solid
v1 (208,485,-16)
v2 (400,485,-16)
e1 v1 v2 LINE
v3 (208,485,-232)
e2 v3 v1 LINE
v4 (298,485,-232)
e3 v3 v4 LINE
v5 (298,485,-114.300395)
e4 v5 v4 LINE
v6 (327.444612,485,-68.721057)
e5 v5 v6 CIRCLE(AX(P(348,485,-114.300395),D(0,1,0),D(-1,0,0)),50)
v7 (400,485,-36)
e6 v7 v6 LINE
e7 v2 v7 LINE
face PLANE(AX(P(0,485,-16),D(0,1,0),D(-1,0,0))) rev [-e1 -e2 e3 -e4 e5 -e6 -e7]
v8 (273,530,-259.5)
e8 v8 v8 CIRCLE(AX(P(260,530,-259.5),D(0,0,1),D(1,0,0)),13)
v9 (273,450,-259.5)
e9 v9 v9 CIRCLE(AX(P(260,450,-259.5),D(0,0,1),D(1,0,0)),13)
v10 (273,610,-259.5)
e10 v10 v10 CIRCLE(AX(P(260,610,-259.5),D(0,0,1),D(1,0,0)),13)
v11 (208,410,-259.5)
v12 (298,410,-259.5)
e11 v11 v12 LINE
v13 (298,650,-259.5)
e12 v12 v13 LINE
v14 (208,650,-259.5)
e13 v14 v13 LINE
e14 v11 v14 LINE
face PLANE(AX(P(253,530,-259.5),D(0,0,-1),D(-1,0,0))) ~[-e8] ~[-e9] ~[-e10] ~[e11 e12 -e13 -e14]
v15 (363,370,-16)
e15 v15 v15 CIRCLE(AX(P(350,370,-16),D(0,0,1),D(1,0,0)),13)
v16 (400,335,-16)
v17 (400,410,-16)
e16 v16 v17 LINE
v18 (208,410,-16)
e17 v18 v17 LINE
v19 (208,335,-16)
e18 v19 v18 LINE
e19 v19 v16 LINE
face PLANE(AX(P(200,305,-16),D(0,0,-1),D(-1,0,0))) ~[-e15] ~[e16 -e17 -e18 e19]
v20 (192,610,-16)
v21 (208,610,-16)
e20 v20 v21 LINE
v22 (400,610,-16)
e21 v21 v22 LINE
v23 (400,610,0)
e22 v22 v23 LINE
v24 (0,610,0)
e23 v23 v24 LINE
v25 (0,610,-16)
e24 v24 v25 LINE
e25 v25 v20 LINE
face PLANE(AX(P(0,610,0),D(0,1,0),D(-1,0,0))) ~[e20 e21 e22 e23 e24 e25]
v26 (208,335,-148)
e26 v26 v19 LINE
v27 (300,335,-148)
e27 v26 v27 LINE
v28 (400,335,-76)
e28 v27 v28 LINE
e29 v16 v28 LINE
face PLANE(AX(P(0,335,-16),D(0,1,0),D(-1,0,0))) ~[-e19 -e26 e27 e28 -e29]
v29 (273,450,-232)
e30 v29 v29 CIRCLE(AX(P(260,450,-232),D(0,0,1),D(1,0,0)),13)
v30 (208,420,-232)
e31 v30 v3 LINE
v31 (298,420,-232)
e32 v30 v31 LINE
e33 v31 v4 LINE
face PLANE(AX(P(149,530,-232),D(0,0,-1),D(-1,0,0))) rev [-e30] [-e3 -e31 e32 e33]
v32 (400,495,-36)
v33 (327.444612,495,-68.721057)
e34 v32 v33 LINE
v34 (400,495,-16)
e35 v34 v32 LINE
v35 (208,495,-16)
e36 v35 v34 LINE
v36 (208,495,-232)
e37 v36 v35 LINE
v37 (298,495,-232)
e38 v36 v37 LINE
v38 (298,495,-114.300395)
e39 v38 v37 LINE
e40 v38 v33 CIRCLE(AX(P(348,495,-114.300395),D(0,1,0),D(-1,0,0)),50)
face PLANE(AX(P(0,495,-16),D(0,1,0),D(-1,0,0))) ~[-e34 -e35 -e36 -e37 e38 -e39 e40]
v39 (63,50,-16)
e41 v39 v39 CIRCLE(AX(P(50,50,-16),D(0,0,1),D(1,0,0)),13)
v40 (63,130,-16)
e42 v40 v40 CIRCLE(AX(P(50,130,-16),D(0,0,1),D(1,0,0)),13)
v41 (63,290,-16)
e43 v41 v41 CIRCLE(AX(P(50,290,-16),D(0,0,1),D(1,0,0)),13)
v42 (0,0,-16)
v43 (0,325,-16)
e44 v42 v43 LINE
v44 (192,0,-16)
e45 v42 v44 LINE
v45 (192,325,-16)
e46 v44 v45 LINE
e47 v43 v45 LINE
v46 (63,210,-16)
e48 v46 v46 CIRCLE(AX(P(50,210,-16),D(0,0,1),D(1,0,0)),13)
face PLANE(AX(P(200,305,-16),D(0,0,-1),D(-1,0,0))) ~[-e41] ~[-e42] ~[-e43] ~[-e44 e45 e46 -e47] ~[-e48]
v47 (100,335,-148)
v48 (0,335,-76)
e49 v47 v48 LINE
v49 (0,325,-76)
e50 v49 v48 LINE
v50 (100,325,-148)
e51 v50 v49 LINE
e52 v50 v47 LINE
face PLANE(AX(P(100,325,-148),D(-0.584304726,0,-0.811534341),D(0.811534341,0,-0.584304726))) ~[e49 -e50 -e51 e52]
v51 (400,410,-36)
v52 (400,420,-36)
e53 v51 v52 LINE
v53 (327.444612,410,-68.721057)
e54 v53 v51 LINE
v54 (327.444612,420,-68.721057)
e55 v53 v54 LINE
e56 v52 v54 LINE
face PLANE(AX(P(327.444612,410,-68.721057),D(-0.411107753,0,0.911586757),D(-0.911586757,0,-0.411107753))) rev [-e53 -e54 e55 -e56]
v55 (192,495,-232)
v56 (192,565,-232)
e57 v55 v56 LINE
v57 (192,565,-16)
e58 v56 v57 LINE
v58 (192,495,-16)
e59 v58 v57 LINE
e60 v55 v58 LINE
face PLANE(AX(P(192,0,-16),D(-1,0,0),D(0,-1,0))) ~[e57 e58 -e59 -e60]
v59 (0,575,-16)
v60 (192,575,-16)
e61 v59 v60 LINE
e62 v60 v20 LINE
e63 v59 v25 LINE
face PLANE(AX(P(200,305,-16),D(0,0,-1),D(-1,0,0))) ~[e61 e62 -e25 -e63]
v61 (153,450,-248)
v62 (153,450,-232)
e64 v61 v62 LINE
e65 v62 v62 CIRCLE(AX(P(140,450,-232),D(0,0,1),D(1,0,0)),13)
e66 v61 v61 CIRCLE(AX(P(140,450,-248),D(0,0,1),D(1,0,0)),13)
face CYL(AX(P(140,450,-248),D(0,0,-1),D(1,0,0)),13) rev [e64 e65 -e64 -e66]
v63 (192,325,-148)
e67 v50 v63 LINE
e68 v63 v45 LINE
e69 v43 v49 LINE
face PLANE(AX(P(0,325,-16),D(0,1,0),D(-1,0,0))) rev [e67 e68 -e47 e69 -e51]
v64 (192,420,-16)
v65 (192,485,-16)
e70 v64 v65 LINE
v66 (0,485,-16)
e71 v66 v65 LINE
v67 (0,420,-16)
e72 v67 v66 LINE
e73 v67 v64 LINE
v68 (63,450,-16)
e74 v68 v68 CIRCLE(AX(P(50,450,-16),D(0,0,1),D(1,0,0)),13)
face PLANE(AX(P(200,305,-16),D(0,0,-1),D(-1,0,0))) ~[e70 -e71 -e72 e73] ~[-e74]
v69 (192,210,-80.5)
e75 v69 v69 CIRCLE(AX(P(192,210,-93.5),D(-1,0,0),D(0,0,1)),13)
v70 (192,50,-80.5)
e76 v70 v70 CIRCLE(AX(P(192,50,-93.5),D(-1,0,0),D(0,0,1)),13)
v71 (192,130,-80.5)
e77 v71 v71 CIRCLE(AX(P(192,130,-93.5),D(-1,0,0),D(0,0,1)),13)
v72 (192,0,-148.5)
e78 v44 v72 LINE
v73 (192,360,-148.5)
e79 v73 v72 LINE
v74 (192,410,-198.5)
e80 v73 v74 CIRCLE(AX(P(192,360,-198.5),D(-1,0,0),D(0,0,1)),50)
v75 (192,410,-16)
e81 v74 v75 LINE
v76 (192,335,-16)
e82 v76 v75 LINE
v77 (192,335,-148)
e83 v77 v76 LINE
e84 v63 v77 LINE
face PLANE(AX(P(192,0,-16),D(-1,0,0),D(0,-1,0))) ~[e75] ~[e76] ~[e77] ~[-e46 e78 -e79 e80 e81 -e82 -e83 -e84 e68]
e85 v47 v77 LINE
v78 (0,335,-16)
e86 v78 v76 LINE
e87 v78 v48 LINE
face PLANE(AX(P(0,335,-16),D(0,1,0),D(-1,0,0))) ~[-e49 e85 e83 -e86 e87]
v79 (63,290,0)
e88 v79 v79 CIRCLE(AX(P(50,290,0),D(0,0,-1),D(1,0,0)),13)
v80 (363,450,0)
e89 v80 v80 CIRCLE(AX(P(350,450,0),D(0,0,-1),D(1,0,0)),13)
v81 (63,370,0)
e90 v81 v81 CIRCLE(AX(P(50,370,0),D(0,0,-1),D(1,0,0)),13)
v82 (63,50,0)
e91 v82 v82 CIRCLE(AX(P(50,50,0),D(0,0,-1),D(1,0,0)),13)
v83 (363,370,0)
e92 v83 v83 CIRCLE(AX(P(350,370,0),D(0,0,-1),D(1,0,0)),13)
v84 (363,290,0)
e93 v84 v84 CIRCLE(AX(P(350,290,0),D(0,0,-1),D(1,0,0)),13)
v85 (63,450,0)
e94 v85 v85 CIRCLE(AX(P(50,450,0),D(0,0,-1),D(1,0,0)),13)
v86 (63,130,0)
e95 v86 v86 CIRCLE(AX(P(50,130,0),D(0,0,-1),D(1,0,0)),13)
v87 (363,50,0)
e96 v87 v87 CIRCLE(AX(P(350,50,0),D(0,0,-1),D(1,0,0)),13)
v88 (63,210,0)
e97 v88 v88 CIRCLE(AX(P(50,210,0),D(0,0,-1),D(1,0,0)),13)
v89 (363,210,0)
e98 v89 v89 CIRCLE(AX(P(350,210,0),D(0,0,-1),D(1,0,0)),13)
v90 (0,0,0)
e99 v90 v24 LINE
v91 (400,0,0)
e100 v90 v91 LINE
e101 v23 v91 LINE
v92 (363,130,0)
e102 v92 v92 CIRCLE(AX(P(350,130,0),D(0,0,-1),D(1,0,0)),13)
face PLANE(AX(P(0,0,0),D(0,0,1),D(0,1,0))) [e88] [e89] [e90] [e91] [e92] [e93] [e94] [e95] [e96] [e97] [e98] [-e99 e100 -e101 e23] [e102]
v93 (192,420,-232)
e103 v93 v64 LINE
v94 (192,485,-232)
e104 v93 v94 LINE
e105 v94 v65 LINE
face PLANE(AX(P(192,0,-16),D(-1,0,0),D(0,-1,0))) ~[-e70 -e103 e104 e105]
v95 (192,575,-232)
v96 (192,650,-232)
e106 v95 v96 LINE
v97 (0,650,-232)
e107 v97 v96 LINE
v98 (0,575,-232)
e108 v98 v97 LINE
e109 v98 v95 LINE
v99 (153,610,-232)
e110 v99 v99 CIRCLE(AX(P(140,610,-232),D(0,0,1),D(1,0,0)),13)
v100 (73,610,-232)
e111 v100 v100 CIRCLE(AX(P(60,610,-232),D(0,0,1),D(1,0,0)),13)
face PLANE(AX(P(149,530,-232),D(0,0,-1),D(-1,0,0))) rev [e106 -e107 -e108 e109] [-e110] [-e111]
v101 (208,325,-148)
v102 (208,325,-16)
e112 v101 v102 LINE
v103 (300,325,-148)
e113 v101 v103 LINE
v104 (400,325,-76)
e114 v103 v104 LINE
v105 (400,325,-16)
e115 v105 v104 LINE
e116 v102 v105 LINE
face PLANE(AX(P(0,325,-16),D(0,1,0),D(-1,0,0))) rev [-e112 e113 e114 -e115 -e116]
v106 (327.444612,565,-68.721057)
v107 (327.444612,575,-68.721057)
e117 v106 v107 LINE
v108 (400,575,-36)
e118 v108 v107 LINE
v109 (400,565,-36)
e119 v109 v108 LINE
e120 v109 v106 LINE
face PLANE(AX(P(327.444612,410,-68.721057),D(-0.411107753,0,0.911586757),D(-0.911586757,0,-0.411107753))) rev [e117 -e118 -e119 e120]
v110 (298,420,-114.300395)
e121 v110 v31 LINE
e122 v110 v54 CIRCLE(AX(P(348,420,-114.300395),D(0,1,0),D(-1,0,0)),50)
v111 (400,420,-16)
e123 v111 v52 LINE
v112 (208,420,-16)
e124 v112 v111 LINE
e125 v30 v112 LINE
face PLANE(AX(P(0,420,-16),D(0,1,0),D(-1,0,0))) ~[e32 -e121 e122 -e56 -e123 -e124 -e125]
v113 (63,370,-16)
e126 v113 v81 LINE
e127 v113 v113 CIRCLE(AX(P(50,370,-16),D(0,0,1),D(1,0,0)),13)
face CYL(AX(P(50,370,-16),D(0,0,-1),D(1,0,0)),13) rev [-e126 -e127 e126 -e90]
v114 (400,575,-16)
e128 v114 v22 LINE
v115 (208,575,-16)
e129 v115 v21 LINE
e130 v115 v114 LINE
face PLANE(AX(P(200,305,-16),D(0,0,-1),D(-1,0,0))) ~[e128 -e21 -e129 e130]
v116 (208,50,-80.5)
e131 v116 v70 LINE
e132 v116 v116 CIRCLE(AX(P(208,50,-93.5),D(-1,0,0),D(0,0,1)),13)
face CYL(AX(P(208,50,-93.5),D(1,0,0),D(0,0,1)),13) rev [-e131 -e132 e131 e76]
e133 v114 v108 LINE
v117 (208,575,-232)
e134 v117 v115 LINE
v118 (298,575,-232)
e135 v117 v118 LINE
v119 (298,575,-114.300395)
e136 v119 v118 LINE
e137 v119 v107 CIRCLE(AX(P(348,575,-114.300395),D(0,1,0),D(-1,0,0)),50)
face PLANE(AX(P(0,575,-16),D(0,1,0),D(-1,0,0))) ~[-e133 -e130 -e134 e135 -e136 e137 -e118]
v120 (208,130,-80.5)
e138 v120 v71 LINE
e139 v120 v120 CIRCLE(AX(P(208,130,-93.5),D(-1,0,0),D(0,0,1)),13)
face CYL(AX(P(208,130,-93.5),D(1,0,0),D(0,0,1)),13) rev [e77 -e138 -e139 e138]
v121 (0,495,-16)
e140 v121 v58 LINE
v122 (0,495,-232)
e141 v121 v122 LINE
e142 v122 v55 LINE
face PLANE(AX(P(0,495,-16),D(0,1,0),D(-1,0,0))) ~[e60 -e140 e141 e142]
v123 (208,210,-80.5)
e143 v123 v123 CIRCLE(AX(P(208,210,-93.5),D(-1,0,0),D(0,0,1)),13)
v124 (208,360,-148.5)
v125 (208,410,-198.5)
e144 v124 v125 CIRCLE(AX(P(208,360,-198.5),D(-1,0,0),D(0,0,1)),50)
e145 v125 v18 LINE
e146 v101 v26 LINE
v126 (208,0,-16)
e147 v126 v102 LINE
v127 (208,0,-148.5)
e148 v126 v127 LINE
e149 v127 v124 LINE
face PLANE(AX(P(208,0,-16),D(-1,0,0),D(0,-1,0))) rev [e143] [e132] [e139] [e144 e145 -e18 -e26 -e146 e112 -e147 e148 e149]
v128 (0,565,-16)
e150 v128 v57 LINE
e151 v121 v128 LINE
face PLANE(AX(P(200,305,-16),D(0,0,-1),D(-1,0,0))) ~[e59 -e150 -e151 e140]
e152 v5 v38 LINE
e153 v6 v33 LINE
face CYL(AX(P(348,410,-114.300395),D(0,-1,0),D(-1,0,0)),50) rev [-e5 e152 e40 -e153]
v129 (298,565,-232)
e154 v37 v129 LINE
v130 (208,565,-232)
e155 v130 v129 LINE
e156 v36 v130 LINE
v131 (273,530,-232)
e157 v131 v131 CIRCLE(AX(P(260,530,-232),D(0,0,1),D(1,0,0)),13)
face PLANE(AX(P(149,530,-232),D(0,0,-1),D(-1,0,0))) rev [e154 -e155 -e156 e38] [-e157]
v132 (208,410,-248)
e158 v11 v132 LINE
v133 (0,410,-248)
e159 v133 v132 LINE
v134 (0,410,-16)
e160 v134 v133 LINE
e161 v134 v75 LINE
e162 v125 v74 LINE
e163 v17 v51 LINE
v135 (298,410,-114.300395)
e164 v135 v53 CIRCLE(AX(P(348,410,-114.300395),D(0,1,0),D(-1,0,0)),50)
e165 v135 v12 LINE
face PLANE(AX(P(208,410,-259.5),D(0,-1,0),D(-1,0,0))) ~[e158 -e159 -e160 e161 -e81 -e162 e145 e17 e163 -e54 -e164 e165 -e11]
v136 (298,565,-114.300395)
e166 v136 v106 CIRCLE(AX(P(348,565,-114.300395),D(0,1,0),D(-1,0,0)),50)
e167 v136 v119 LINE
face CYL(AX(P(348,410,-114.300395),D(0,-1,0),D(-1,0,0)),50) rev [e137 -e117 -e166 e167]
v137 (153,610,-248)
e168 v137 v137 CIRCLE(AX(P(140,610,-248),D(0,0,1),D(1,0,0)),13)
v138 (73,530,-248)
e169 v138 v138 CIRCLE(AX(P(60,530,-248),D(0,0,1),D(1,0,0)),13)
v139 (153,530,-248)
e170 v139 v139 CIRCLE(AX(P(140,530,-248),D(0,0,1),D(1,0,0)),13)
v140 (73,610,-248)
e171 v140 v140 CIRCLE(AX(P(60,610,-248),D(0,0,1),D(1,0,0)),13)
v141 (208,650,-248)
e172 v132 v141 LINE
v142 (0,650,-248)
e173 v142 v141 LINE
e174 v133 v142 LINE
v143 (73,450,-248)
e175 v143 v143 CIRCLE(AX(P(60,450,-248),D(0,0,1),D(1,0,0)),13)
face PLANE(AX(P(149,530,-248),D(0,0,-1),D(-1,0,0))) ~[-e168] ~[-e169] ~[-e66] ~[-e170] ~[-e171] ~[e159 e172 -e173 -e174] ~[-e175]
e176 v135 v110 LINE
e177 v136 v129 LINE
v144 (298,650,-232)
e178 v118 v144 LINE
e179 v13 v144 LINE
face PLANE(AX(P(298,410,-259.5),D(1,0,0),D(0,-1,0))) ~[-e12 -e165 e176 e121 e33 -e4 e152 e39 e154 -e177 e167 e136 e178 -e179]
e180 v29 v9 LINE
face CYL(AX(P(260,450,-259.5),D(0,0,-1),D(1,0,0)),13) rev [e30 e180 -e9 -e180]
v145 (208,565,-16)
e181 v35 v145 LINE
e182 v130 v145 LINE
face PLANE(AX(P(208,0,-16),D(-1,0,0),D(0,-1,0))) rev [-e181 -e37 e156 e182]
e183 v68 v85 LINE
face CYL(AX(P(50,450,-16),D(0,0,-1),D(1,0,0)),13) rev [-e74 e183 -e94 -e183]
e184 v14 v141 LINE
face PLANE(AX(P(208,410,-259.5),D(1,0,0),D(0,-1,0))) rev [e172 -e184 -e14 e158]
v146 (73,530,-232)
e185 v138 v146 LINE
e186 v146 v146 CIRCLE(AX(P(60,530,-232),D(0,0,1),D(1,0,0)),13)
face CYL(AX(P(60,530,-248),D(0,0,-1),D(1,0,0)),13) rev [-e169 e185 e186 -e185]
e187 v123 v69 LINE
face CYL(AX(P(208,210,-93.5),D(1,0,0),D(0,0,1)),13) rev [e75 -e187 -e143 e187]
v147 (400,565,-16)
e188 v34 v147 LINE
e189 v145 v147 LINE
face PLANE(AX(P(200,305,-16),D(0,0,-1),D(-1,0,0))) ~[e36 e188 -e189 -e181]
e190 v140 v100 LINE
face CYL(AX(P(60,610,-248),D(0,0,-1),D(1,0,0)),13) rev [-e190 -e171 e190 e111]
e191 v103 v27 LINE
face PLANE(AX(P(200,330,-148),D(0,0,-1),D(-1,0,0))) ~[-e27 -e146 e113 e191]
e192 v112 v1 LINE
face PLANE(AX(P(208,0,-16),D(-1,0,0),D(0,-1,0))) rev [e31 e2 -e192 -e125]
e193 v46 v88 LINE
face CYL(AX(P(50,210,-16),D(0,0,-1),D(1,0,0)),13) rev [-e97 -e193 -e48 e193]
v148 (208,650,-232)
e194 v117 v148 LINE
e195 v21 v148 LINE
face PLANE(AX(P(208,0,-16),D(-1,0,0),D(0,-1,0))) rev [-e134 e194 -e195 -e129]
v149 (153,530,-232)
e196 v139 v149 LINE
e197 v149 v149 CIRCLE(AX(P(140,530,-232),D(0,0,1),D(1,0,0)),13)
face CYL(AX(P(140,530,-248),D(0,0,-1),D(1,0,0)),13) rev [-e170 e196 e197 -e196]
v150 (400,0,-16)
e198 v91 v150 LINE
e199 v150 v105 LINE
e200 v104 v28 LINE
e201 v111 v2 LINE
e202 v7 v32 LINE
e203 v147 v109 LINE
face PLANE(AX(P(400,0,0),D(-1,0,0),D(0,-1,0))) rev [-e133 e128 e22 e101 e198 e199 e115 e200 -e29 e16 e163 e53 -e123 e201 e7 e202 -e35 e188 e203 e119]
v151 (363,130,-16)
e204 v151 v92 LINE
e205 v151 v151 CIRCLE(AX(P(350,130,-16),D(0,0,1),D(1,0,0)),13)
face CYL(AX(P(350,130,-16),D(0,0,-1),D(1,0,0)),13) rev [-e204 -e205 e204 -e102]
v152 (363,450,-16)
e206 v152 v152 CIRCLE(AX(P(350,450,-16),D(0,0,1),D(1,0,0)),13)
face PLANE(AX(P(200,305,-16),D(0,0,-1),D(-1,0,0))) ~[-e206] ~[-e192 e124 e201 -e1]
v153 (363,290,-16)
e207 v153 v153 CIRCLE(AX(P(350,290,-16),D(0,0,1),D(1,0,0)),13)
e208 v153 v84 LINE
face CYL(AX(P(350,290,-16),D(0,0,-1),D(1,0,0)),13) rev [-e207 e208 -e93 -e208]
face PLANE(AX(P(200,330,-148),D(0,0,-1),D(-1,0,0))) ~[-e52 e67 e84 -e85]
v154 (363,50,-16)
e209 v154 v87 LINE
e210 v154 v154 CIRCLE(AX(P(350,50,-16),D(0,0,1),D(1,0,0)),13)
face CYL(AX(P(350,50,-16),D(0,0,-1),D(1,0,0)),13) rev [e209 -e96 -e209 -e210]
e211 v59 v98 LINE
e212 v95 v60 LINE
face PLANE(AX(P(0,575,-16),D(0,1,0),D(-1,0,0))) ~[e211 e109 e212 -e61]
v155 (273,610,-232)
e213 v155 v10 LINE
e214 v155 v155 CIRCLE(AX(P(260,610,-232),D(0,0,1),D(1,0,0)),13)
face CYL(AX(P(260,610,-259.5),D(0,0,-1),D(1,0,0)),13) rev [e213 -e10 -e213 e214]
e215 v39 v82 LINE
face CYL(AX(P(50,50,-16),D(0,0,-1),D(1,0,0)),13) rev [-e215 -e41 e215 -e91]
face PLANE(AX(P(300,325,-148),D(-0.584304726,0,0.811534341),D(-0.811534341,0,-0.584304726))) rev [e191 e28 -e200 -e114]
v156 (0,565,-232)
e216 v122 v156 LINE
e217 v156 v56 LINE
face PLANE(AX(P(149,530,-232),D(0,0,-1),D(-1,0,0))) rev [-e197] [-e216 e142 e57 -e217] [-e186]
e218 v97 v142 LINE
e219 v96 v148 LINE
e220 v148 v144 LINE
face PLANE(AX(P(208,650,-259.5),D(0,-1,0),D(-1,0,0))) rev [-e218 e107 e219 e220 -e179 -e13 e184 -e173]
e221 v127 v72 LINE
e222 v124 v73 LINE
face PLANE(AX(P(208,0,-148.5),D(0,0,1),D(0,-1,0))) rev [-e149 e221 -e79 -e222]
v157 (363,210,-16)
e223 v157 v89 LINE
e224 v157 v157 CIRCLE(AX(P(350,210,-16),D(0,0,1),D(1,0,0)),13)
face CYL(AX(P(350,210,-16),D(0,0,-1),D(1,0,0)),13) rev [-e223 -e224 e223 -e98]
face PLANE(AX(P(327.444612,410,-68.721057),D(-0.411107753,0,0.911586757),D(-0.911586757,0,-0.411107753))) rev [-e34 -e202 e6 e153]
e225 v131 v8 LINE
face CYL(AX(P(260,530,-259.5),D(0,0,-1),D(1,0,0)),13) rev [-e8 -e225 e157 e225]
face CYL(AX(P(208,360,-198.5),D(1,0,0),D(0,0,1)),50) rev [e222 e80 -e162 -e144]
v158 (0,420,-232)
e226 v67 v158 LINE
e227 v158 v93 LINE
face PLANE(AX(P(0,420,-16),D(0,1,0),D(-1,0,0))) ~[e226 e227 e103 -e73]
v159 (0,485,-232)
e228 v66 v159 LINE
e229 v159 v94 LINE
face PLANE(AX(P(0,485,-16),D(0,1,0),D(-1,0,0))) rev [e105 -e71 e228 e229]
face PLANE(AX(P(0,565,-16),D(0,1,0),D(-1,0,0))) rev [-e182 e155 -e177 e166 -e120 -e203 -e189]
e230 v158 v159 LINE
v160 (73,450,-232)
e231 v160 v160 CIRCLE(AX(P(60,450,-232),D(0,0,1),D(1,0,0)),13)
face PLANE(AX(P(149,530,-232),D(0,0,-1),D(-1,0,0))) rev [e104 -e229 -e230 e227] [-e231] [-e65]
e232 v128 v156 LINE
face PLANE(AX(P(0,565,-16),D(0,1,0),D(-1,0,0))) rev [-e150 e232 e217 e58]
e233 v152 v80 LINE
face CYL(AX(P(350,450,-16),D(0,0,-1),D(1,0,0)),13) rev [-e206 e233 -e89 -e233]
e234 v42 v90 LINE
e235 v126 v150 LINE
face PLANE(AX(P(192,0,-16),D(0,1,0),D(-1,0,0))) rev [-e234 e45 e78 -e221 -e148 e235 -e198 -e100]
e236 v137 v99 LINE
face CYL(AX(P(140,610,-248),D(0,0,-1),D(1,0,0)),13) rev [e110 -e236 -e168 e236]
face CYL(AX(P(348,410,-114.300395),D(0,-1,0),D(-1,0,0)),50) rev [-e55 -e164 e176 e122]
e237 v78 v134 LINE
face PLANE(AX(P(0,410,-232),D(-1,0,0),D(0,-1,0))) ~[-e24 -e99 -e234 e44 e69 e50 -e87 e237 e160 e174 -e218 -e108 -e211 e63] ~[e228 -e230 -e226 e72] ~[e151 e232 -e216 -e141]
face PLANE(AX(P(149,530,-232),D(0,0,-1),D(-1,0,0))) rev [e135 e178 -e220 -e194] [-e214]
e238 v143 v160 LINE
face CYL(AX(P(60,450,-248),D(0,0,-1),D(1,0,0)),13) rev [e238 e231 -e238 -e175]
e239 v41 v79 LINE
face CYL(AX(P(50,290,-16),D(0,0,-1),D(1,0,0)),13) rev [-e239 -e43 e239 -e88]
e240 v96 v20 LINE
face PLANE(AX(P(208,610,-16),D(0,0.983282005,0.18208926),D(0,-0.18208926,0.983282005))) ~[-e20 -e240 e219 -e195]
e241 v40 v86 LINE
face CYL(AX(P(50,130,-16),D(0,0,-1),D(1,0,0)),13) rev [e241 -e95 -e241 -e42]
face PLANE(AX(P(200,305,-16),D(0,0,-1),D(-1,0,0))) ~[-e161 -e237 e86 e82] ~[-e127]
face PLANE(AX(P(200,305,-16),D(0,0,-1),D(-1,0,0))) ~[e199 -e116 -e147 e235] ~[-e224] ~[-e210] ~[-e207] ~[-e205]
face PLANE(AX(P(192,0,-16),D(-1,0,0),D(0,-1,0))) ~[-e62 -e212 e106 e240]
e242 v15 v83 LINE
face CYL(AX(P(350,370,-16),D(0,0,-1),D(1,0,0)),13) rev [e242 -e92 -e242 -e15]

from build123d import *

# Parameters (mm, degrees)
SKETCH_1_W                       = 400
SKETCH_1_H                       = 610
EXTRUDE_1_DEPTH                  = 16
SKETCH_2_R                       = 13
CUT_EXTRUDE_1_DEPTH              = 730.627302121
PATTERN_LINEAR_1_COUNT           = 2
PATTERN_LINEAR_1_PITCH           = 300
PATTERN_LINEAR_1_COUNT_DIR2      = 6
PATTERN_LINEAR_1_PITCH_DIR2      = 80
SKETCH_3_W                       = 16
SKETCH_3_H                       = 650
EXTRUDE_2_DEPTH                  = 216
SKETCH_4_R                       = 13
CUT_EXTRUDE_2_DEPTH              = 721.824527885
SKETCH_5_W                       = 400
SKETCH_5_H                       = 10
EXTRUDE_3_DEPTH                  = 216
CUT_EXTRUDE_3_DEPTH              = 619
SKETCH_7_W                       = 400
SKETCH_7_H                       = 10
EXTRUDE_4_DEPTH                  = 132
CUT_EXTRUDE_4_DEPTH              = 10
SKETCH_9_W                       = 298
SKETCH_9_H                       = 240
EXTRUDE_5_DEPTH                  = 16
SKETCH_10_R                      = 13
CUT_EXTRUDE_5_DEPTH              = 16
PATTERN_LINEAR_2_COUNT           = 2
PATTERN_LINEAR_2_PITCH           = 80
PATTERN_LINEAR_3_COUNT           = 2
PATTERN_LINEAR_3_PITCH           = 200
PATTERN_LINEAR_4_COUNT           = 3
PATTERN_LINEAR_4_PITCH           = 80
PATTERN_LINEAR_4_COPY_1_SKETCH_R = 13
PATTERN_LINEAR_4_COPY_1_DEPTH    = 16
PATTERN_LINEAR_4_COPY_2_SKETCH_R = 13
PATTERN_LINEAR_4_COPY_2_DEPTH    = 16
PATTERN_LINEAR_4_COPY_3_SKETCH_R = 13
PATTERN_LINEAR_4_COPY_3_DEPTH    = 16
PATTERN_LINEAR_4_COPY_4_SKETCH_R = 13
PATTERN_LINEAR_4_COPY_4_DEPTH    = 16
EXTRUDE_START                    = 11.5
SKETCH_12_W                      = 90
SKETCH_12_H                      = 240
SKETCH_12_R                      = 13
EXTRUDE_6_DEPTH                  = 11.5
SKETCH_11_W                      = 259.5
SKETCH_11_H                      = 650
CUT_EXTRUDE_6_DEPTH              = 807.126695998


with BuildPart() as part:
    # 草图1 → 凸台-拉伸1 (new body)
    with BuildSketch(Plane.XY):
        with Locations((200, 305)):
            Rectangle(SKETCH_1_W, SKETCH_1_H)
    extrude(amount=EXTRUDE_1_DEPTH)

    # 草图2 → 切除-拉伸1 (cut, through all)
    with BuildSketch(Plane.XY.offset(16)):
        with Locations((50, 50)):
            Circle(SKETCH_2_R)
    cut_extrude_1 = extrude(amount=-CUT_EXTRUDE_1_DEPTH, mode=Mode.SUBTRACT)

    # 阵列(线性)1: Cut-Extrude 1 2 × 6
    with Locations(*[(i * PATTERN_LINEAR_1_PITCH, j * PATTERN_LINEAR_1_PITCH_DIR2, 0) for i in range(PATTERN_LINEAR_1_COUNT) for j in range(PATTERN_LINEAR_1_COUNT_DIR2) if (i, j) != (0, 0)]):
        add(cut_extrude_1, mode=Mode.SUBTRACT)

    # 草图3 → 凸台-拉伸2 (add)
    with BuildSketch(Plane.XY.offset(16)):
        with Locations((200, 325)):
            Rectangle(SKETCH_3_W, SKETCH_3_H)
    extrude(amount=EXTRUDE_2_DEPTH)

    # 草图4 → 切除-拉伸2 (cut, through all)
    with BuildSketch(Plane(origin=(208, 0, 0), x_dir=(0, 0, -1), z_dir=(1, 0, 0))):
        with Locations((-93.5, 210)):
            Circle(SKETCH_4_R)
        with Locations((-93.5, 130)):
            Circle(SKETCH_4_R)
        with Locations((-93.5, 50)):
            Circle(SKETCH_4_R)
        Polygon((-232, 650), (-16, 650), (-16, 610), align=None)
        with BuildLine():
            Line((-198.5, 410), (-232, 410))
            Line((-232, 410), (-232, 0))
            Line((-232, 0), (-148.5, 0))
            Line((-148.5, 0), (-148.5, 360))
            ThreePointArc((-148.5, 360), (-163.144660941, 395.355339059), (-198.5, 410))
        make_face()
    extrude(amount=-CUT_EXTRUDE_2_DEPTH, mode=Mode.SUBTRACT)

    # 草图5 → 凸台-拉伸3 (add)
    with BuildSketch(Plane.XY.offset(16)):
        with Locations((200, 570)):
            Rectangle(SKETCH_5_W, SKETCH_5_H)
        with Locations((200, 490)):
            Rectangle(SKETCH_5_W, SKETCH_5_H)
        with Locations((200, 415)):
            Rectangle(SKETCH_5_W, SKETCH_5_H)
    extrude(amount=EXTRUDE_3_DEPTH)

    # 草图6 → 切除-拉伸3 (cut, through all)
    with BuildSketch(Plane(origin=(0, 410, 0), x_dir=(-1, 0, 0), z_dir=(0, -1, 0))):
        with BuildLine():
            Line((-298, -232), (-298, -114.300395022))
            ThreePointArc((-298, -114.300395022), (-306.001372744, -87.168950007), (-327.444612345, -68.721057178))
            Line((-327.444612345, -68.721057178), (-400, -36))
            Line((-400, -36), (-400, -232))
            Line((-400, -232), (-298, -232))
        make_face()
    extrude(amount=-CUT_EXTRUDE_3_DEPTH, mode=Mode.SUBTRACT)

    # 草图7 → 凸台-拉伸4 (add)
    with BuildSketch(Plane.XY.offset(16)):
        with Locations((200, 330)):
            Rectangle(SKETCH_7_W, SKETCH_7_H)
    extrude(amount=EXTRUDE_4_DEPTH)

    # 草图8 → 切除-拉伸4 (cut)
    with BuildSketch(Plane(origin=(0, 325, 0), x_dir=(-1, 0, 0), z_dir=(0, -1, 0))):
        Polygon((-400, -148), (-300, -148), (-400, -76), align=None)
        Polygon((0, -148), (-100, -148), (0, -76), align=None)
    extrude(amount=-CUT_EXTRUDE_4_DEPTH, mode=Mode.SUBTRACT)

    # 草图9 → 凸台-拉伸5 (add)
    with BuildSketch(Plane.XY.offset(232)):
        with Locations((149, 530)):
            Rectangle(SKETCH_9_W, SKETCH_9_H)
    extrude(amount=EXTRUDE_5_DEPTH)

    # 草图10 → 切除-拉伸5 (cut)
    with BuildSketch(Plane.XY.offset(248)):
        with Locations((60, 610)):
            Circle(SKETCH_10_R)
    cut_extrude_5 = extrude(amount=-CUT_EXTRUDE_5_DEPTH, mode=Mode.SUBTRACT)

    # 阵列(线性)2: 切除-拉伸5 ×2
    with Locations(*[(i * PATTERN_LINEAR_2_PITCH, 0, 0) for i in range(1, PATTERN_LINEAR_2_COUNT)]):
        add(cut_extrude_5, mode=Mode.SUBTRACT)

    # 阵列(线性)3: 切除-拉伸5 ×2
    with Locations(*[(i * PATTERN_LINEAR_3_PITCH, 0, 0) for i in range(1, PATTERN_LINEAR_3_COUNT)]):
        add(cut_extrude_5, mode=Mode.SUBTRACT)

    # 阵列(线性)4: 切除-拉伸5 ×3
    with Locations(*[(0, -i * PATTERN_LINEAR_4_PITCH, 0) for i in range(1, PATTERN_LINEAR_4_COUNT)]):
        add(cut_extrude_5, mode=Mode.SUBTRACT)

    # 阵列(线性)4 copy 1 sketch → 阵列(线性)4 copy 1 (cut)
    with BuildSketch(Plane(origin=(80, -80, 248), x_dir=(1, 0, 0), z_dir=(0, 0, 1))):
        with Locations((60, 610)):
            Circle(PATTERN_LINEAR_4_COPY_1_SKETCH_R)
    extrude(amount=-PATTERN_LINEAR_4_COPY_1_DEPTH, mode=Mode.SUBTRACT)

    # 阵列(线性)4 copy 2 sketch → 阵列(线性)4 copy 2 (cut)
    with BuildSketch(Plane(origin=(80, -160, 248), x_dir=(1, 0, 0), z_dir=(0, 0, 1))):
        with Locations((60, 610)):
            Circle(PATTERN_LINEAR_4_COPY_2_SKETCH_R)
    extrude(amount=-PATTERN_LINEAR_4_COPY_2_DEPTH, mode=Mode.SUBTRACT)

    # 阵列(线性)4 copy 3 sketch → 阵列(线性)4 copy 3 (cut)
    with BuildSketch(Plane(origin=(200, -80, 248), x_dir=(1, 0, 0), z_dir=(0, 0, 1))):
        with Locations((60, 610)):
            Circle(PATTERN_LINEAR_4_COPY_3_SKETCH_R)
    extrude(amount=-PATTERN_LINEAR_4_COPY_3_DEPTH, mode=Mode.SUBTRACT)

    # 阵列(线性)4 copy 4 sketch → 阵列(线性)4 copy 4 (cut)
    with BuildSketch(Plane(origin=(200, -160, 248), x_dir=(1, 0, 0), z_dir=(0, 0, 1))):
        with Locations((60, 610)):
            Circle(PATTERN_LINEAR_4_COPY_4_SKETCH_R)
    extrude(amount=-PATTERN_LINEAR_4_COPY_4_DEPTH, mode=Mode.SUBTRACT)

    # 草图12 → 凸台-拉伸6 (add)
    with BuildSketch(Plane.XY.offset(248).offset(EXTRUDE_START)):
        with Locations((253, 530)):
            Rectangle(SKETCH_12_W, SKETCH_12_H)
        with Locations((260, 610)):
            Circle(SKETCH_12_R, mode=Mode.SUBTRACT)
        with Locations((260, 530)):
            Circle(SKETCH_12_R, mode=Mode.SUBTRACT)
        with Locations((260, 450)):
            Circle(SKETCH_12_R, mode=Mode.SUBTRACT)
    extrude(amount=-EXTRUDE_6_DEPTH)

    # 镜向1: part across plane


with BuildPart() as part_1:
    add(part.part)
    add(part.part.mirror(Plane.XY))

    # 草图11 → 切除-拉伸6 (cut, through all)
    with BuildSketch(Plane.ZY):
        with Locations((129.75, 325)):
            Rectangle(SKETCH_11_W, SKETCH_11_H)
    extrude(amount=-CUT_EXTRUDE_6_DEPTH, mode=Mode.SUBTRACT)


solid = part_1.part
